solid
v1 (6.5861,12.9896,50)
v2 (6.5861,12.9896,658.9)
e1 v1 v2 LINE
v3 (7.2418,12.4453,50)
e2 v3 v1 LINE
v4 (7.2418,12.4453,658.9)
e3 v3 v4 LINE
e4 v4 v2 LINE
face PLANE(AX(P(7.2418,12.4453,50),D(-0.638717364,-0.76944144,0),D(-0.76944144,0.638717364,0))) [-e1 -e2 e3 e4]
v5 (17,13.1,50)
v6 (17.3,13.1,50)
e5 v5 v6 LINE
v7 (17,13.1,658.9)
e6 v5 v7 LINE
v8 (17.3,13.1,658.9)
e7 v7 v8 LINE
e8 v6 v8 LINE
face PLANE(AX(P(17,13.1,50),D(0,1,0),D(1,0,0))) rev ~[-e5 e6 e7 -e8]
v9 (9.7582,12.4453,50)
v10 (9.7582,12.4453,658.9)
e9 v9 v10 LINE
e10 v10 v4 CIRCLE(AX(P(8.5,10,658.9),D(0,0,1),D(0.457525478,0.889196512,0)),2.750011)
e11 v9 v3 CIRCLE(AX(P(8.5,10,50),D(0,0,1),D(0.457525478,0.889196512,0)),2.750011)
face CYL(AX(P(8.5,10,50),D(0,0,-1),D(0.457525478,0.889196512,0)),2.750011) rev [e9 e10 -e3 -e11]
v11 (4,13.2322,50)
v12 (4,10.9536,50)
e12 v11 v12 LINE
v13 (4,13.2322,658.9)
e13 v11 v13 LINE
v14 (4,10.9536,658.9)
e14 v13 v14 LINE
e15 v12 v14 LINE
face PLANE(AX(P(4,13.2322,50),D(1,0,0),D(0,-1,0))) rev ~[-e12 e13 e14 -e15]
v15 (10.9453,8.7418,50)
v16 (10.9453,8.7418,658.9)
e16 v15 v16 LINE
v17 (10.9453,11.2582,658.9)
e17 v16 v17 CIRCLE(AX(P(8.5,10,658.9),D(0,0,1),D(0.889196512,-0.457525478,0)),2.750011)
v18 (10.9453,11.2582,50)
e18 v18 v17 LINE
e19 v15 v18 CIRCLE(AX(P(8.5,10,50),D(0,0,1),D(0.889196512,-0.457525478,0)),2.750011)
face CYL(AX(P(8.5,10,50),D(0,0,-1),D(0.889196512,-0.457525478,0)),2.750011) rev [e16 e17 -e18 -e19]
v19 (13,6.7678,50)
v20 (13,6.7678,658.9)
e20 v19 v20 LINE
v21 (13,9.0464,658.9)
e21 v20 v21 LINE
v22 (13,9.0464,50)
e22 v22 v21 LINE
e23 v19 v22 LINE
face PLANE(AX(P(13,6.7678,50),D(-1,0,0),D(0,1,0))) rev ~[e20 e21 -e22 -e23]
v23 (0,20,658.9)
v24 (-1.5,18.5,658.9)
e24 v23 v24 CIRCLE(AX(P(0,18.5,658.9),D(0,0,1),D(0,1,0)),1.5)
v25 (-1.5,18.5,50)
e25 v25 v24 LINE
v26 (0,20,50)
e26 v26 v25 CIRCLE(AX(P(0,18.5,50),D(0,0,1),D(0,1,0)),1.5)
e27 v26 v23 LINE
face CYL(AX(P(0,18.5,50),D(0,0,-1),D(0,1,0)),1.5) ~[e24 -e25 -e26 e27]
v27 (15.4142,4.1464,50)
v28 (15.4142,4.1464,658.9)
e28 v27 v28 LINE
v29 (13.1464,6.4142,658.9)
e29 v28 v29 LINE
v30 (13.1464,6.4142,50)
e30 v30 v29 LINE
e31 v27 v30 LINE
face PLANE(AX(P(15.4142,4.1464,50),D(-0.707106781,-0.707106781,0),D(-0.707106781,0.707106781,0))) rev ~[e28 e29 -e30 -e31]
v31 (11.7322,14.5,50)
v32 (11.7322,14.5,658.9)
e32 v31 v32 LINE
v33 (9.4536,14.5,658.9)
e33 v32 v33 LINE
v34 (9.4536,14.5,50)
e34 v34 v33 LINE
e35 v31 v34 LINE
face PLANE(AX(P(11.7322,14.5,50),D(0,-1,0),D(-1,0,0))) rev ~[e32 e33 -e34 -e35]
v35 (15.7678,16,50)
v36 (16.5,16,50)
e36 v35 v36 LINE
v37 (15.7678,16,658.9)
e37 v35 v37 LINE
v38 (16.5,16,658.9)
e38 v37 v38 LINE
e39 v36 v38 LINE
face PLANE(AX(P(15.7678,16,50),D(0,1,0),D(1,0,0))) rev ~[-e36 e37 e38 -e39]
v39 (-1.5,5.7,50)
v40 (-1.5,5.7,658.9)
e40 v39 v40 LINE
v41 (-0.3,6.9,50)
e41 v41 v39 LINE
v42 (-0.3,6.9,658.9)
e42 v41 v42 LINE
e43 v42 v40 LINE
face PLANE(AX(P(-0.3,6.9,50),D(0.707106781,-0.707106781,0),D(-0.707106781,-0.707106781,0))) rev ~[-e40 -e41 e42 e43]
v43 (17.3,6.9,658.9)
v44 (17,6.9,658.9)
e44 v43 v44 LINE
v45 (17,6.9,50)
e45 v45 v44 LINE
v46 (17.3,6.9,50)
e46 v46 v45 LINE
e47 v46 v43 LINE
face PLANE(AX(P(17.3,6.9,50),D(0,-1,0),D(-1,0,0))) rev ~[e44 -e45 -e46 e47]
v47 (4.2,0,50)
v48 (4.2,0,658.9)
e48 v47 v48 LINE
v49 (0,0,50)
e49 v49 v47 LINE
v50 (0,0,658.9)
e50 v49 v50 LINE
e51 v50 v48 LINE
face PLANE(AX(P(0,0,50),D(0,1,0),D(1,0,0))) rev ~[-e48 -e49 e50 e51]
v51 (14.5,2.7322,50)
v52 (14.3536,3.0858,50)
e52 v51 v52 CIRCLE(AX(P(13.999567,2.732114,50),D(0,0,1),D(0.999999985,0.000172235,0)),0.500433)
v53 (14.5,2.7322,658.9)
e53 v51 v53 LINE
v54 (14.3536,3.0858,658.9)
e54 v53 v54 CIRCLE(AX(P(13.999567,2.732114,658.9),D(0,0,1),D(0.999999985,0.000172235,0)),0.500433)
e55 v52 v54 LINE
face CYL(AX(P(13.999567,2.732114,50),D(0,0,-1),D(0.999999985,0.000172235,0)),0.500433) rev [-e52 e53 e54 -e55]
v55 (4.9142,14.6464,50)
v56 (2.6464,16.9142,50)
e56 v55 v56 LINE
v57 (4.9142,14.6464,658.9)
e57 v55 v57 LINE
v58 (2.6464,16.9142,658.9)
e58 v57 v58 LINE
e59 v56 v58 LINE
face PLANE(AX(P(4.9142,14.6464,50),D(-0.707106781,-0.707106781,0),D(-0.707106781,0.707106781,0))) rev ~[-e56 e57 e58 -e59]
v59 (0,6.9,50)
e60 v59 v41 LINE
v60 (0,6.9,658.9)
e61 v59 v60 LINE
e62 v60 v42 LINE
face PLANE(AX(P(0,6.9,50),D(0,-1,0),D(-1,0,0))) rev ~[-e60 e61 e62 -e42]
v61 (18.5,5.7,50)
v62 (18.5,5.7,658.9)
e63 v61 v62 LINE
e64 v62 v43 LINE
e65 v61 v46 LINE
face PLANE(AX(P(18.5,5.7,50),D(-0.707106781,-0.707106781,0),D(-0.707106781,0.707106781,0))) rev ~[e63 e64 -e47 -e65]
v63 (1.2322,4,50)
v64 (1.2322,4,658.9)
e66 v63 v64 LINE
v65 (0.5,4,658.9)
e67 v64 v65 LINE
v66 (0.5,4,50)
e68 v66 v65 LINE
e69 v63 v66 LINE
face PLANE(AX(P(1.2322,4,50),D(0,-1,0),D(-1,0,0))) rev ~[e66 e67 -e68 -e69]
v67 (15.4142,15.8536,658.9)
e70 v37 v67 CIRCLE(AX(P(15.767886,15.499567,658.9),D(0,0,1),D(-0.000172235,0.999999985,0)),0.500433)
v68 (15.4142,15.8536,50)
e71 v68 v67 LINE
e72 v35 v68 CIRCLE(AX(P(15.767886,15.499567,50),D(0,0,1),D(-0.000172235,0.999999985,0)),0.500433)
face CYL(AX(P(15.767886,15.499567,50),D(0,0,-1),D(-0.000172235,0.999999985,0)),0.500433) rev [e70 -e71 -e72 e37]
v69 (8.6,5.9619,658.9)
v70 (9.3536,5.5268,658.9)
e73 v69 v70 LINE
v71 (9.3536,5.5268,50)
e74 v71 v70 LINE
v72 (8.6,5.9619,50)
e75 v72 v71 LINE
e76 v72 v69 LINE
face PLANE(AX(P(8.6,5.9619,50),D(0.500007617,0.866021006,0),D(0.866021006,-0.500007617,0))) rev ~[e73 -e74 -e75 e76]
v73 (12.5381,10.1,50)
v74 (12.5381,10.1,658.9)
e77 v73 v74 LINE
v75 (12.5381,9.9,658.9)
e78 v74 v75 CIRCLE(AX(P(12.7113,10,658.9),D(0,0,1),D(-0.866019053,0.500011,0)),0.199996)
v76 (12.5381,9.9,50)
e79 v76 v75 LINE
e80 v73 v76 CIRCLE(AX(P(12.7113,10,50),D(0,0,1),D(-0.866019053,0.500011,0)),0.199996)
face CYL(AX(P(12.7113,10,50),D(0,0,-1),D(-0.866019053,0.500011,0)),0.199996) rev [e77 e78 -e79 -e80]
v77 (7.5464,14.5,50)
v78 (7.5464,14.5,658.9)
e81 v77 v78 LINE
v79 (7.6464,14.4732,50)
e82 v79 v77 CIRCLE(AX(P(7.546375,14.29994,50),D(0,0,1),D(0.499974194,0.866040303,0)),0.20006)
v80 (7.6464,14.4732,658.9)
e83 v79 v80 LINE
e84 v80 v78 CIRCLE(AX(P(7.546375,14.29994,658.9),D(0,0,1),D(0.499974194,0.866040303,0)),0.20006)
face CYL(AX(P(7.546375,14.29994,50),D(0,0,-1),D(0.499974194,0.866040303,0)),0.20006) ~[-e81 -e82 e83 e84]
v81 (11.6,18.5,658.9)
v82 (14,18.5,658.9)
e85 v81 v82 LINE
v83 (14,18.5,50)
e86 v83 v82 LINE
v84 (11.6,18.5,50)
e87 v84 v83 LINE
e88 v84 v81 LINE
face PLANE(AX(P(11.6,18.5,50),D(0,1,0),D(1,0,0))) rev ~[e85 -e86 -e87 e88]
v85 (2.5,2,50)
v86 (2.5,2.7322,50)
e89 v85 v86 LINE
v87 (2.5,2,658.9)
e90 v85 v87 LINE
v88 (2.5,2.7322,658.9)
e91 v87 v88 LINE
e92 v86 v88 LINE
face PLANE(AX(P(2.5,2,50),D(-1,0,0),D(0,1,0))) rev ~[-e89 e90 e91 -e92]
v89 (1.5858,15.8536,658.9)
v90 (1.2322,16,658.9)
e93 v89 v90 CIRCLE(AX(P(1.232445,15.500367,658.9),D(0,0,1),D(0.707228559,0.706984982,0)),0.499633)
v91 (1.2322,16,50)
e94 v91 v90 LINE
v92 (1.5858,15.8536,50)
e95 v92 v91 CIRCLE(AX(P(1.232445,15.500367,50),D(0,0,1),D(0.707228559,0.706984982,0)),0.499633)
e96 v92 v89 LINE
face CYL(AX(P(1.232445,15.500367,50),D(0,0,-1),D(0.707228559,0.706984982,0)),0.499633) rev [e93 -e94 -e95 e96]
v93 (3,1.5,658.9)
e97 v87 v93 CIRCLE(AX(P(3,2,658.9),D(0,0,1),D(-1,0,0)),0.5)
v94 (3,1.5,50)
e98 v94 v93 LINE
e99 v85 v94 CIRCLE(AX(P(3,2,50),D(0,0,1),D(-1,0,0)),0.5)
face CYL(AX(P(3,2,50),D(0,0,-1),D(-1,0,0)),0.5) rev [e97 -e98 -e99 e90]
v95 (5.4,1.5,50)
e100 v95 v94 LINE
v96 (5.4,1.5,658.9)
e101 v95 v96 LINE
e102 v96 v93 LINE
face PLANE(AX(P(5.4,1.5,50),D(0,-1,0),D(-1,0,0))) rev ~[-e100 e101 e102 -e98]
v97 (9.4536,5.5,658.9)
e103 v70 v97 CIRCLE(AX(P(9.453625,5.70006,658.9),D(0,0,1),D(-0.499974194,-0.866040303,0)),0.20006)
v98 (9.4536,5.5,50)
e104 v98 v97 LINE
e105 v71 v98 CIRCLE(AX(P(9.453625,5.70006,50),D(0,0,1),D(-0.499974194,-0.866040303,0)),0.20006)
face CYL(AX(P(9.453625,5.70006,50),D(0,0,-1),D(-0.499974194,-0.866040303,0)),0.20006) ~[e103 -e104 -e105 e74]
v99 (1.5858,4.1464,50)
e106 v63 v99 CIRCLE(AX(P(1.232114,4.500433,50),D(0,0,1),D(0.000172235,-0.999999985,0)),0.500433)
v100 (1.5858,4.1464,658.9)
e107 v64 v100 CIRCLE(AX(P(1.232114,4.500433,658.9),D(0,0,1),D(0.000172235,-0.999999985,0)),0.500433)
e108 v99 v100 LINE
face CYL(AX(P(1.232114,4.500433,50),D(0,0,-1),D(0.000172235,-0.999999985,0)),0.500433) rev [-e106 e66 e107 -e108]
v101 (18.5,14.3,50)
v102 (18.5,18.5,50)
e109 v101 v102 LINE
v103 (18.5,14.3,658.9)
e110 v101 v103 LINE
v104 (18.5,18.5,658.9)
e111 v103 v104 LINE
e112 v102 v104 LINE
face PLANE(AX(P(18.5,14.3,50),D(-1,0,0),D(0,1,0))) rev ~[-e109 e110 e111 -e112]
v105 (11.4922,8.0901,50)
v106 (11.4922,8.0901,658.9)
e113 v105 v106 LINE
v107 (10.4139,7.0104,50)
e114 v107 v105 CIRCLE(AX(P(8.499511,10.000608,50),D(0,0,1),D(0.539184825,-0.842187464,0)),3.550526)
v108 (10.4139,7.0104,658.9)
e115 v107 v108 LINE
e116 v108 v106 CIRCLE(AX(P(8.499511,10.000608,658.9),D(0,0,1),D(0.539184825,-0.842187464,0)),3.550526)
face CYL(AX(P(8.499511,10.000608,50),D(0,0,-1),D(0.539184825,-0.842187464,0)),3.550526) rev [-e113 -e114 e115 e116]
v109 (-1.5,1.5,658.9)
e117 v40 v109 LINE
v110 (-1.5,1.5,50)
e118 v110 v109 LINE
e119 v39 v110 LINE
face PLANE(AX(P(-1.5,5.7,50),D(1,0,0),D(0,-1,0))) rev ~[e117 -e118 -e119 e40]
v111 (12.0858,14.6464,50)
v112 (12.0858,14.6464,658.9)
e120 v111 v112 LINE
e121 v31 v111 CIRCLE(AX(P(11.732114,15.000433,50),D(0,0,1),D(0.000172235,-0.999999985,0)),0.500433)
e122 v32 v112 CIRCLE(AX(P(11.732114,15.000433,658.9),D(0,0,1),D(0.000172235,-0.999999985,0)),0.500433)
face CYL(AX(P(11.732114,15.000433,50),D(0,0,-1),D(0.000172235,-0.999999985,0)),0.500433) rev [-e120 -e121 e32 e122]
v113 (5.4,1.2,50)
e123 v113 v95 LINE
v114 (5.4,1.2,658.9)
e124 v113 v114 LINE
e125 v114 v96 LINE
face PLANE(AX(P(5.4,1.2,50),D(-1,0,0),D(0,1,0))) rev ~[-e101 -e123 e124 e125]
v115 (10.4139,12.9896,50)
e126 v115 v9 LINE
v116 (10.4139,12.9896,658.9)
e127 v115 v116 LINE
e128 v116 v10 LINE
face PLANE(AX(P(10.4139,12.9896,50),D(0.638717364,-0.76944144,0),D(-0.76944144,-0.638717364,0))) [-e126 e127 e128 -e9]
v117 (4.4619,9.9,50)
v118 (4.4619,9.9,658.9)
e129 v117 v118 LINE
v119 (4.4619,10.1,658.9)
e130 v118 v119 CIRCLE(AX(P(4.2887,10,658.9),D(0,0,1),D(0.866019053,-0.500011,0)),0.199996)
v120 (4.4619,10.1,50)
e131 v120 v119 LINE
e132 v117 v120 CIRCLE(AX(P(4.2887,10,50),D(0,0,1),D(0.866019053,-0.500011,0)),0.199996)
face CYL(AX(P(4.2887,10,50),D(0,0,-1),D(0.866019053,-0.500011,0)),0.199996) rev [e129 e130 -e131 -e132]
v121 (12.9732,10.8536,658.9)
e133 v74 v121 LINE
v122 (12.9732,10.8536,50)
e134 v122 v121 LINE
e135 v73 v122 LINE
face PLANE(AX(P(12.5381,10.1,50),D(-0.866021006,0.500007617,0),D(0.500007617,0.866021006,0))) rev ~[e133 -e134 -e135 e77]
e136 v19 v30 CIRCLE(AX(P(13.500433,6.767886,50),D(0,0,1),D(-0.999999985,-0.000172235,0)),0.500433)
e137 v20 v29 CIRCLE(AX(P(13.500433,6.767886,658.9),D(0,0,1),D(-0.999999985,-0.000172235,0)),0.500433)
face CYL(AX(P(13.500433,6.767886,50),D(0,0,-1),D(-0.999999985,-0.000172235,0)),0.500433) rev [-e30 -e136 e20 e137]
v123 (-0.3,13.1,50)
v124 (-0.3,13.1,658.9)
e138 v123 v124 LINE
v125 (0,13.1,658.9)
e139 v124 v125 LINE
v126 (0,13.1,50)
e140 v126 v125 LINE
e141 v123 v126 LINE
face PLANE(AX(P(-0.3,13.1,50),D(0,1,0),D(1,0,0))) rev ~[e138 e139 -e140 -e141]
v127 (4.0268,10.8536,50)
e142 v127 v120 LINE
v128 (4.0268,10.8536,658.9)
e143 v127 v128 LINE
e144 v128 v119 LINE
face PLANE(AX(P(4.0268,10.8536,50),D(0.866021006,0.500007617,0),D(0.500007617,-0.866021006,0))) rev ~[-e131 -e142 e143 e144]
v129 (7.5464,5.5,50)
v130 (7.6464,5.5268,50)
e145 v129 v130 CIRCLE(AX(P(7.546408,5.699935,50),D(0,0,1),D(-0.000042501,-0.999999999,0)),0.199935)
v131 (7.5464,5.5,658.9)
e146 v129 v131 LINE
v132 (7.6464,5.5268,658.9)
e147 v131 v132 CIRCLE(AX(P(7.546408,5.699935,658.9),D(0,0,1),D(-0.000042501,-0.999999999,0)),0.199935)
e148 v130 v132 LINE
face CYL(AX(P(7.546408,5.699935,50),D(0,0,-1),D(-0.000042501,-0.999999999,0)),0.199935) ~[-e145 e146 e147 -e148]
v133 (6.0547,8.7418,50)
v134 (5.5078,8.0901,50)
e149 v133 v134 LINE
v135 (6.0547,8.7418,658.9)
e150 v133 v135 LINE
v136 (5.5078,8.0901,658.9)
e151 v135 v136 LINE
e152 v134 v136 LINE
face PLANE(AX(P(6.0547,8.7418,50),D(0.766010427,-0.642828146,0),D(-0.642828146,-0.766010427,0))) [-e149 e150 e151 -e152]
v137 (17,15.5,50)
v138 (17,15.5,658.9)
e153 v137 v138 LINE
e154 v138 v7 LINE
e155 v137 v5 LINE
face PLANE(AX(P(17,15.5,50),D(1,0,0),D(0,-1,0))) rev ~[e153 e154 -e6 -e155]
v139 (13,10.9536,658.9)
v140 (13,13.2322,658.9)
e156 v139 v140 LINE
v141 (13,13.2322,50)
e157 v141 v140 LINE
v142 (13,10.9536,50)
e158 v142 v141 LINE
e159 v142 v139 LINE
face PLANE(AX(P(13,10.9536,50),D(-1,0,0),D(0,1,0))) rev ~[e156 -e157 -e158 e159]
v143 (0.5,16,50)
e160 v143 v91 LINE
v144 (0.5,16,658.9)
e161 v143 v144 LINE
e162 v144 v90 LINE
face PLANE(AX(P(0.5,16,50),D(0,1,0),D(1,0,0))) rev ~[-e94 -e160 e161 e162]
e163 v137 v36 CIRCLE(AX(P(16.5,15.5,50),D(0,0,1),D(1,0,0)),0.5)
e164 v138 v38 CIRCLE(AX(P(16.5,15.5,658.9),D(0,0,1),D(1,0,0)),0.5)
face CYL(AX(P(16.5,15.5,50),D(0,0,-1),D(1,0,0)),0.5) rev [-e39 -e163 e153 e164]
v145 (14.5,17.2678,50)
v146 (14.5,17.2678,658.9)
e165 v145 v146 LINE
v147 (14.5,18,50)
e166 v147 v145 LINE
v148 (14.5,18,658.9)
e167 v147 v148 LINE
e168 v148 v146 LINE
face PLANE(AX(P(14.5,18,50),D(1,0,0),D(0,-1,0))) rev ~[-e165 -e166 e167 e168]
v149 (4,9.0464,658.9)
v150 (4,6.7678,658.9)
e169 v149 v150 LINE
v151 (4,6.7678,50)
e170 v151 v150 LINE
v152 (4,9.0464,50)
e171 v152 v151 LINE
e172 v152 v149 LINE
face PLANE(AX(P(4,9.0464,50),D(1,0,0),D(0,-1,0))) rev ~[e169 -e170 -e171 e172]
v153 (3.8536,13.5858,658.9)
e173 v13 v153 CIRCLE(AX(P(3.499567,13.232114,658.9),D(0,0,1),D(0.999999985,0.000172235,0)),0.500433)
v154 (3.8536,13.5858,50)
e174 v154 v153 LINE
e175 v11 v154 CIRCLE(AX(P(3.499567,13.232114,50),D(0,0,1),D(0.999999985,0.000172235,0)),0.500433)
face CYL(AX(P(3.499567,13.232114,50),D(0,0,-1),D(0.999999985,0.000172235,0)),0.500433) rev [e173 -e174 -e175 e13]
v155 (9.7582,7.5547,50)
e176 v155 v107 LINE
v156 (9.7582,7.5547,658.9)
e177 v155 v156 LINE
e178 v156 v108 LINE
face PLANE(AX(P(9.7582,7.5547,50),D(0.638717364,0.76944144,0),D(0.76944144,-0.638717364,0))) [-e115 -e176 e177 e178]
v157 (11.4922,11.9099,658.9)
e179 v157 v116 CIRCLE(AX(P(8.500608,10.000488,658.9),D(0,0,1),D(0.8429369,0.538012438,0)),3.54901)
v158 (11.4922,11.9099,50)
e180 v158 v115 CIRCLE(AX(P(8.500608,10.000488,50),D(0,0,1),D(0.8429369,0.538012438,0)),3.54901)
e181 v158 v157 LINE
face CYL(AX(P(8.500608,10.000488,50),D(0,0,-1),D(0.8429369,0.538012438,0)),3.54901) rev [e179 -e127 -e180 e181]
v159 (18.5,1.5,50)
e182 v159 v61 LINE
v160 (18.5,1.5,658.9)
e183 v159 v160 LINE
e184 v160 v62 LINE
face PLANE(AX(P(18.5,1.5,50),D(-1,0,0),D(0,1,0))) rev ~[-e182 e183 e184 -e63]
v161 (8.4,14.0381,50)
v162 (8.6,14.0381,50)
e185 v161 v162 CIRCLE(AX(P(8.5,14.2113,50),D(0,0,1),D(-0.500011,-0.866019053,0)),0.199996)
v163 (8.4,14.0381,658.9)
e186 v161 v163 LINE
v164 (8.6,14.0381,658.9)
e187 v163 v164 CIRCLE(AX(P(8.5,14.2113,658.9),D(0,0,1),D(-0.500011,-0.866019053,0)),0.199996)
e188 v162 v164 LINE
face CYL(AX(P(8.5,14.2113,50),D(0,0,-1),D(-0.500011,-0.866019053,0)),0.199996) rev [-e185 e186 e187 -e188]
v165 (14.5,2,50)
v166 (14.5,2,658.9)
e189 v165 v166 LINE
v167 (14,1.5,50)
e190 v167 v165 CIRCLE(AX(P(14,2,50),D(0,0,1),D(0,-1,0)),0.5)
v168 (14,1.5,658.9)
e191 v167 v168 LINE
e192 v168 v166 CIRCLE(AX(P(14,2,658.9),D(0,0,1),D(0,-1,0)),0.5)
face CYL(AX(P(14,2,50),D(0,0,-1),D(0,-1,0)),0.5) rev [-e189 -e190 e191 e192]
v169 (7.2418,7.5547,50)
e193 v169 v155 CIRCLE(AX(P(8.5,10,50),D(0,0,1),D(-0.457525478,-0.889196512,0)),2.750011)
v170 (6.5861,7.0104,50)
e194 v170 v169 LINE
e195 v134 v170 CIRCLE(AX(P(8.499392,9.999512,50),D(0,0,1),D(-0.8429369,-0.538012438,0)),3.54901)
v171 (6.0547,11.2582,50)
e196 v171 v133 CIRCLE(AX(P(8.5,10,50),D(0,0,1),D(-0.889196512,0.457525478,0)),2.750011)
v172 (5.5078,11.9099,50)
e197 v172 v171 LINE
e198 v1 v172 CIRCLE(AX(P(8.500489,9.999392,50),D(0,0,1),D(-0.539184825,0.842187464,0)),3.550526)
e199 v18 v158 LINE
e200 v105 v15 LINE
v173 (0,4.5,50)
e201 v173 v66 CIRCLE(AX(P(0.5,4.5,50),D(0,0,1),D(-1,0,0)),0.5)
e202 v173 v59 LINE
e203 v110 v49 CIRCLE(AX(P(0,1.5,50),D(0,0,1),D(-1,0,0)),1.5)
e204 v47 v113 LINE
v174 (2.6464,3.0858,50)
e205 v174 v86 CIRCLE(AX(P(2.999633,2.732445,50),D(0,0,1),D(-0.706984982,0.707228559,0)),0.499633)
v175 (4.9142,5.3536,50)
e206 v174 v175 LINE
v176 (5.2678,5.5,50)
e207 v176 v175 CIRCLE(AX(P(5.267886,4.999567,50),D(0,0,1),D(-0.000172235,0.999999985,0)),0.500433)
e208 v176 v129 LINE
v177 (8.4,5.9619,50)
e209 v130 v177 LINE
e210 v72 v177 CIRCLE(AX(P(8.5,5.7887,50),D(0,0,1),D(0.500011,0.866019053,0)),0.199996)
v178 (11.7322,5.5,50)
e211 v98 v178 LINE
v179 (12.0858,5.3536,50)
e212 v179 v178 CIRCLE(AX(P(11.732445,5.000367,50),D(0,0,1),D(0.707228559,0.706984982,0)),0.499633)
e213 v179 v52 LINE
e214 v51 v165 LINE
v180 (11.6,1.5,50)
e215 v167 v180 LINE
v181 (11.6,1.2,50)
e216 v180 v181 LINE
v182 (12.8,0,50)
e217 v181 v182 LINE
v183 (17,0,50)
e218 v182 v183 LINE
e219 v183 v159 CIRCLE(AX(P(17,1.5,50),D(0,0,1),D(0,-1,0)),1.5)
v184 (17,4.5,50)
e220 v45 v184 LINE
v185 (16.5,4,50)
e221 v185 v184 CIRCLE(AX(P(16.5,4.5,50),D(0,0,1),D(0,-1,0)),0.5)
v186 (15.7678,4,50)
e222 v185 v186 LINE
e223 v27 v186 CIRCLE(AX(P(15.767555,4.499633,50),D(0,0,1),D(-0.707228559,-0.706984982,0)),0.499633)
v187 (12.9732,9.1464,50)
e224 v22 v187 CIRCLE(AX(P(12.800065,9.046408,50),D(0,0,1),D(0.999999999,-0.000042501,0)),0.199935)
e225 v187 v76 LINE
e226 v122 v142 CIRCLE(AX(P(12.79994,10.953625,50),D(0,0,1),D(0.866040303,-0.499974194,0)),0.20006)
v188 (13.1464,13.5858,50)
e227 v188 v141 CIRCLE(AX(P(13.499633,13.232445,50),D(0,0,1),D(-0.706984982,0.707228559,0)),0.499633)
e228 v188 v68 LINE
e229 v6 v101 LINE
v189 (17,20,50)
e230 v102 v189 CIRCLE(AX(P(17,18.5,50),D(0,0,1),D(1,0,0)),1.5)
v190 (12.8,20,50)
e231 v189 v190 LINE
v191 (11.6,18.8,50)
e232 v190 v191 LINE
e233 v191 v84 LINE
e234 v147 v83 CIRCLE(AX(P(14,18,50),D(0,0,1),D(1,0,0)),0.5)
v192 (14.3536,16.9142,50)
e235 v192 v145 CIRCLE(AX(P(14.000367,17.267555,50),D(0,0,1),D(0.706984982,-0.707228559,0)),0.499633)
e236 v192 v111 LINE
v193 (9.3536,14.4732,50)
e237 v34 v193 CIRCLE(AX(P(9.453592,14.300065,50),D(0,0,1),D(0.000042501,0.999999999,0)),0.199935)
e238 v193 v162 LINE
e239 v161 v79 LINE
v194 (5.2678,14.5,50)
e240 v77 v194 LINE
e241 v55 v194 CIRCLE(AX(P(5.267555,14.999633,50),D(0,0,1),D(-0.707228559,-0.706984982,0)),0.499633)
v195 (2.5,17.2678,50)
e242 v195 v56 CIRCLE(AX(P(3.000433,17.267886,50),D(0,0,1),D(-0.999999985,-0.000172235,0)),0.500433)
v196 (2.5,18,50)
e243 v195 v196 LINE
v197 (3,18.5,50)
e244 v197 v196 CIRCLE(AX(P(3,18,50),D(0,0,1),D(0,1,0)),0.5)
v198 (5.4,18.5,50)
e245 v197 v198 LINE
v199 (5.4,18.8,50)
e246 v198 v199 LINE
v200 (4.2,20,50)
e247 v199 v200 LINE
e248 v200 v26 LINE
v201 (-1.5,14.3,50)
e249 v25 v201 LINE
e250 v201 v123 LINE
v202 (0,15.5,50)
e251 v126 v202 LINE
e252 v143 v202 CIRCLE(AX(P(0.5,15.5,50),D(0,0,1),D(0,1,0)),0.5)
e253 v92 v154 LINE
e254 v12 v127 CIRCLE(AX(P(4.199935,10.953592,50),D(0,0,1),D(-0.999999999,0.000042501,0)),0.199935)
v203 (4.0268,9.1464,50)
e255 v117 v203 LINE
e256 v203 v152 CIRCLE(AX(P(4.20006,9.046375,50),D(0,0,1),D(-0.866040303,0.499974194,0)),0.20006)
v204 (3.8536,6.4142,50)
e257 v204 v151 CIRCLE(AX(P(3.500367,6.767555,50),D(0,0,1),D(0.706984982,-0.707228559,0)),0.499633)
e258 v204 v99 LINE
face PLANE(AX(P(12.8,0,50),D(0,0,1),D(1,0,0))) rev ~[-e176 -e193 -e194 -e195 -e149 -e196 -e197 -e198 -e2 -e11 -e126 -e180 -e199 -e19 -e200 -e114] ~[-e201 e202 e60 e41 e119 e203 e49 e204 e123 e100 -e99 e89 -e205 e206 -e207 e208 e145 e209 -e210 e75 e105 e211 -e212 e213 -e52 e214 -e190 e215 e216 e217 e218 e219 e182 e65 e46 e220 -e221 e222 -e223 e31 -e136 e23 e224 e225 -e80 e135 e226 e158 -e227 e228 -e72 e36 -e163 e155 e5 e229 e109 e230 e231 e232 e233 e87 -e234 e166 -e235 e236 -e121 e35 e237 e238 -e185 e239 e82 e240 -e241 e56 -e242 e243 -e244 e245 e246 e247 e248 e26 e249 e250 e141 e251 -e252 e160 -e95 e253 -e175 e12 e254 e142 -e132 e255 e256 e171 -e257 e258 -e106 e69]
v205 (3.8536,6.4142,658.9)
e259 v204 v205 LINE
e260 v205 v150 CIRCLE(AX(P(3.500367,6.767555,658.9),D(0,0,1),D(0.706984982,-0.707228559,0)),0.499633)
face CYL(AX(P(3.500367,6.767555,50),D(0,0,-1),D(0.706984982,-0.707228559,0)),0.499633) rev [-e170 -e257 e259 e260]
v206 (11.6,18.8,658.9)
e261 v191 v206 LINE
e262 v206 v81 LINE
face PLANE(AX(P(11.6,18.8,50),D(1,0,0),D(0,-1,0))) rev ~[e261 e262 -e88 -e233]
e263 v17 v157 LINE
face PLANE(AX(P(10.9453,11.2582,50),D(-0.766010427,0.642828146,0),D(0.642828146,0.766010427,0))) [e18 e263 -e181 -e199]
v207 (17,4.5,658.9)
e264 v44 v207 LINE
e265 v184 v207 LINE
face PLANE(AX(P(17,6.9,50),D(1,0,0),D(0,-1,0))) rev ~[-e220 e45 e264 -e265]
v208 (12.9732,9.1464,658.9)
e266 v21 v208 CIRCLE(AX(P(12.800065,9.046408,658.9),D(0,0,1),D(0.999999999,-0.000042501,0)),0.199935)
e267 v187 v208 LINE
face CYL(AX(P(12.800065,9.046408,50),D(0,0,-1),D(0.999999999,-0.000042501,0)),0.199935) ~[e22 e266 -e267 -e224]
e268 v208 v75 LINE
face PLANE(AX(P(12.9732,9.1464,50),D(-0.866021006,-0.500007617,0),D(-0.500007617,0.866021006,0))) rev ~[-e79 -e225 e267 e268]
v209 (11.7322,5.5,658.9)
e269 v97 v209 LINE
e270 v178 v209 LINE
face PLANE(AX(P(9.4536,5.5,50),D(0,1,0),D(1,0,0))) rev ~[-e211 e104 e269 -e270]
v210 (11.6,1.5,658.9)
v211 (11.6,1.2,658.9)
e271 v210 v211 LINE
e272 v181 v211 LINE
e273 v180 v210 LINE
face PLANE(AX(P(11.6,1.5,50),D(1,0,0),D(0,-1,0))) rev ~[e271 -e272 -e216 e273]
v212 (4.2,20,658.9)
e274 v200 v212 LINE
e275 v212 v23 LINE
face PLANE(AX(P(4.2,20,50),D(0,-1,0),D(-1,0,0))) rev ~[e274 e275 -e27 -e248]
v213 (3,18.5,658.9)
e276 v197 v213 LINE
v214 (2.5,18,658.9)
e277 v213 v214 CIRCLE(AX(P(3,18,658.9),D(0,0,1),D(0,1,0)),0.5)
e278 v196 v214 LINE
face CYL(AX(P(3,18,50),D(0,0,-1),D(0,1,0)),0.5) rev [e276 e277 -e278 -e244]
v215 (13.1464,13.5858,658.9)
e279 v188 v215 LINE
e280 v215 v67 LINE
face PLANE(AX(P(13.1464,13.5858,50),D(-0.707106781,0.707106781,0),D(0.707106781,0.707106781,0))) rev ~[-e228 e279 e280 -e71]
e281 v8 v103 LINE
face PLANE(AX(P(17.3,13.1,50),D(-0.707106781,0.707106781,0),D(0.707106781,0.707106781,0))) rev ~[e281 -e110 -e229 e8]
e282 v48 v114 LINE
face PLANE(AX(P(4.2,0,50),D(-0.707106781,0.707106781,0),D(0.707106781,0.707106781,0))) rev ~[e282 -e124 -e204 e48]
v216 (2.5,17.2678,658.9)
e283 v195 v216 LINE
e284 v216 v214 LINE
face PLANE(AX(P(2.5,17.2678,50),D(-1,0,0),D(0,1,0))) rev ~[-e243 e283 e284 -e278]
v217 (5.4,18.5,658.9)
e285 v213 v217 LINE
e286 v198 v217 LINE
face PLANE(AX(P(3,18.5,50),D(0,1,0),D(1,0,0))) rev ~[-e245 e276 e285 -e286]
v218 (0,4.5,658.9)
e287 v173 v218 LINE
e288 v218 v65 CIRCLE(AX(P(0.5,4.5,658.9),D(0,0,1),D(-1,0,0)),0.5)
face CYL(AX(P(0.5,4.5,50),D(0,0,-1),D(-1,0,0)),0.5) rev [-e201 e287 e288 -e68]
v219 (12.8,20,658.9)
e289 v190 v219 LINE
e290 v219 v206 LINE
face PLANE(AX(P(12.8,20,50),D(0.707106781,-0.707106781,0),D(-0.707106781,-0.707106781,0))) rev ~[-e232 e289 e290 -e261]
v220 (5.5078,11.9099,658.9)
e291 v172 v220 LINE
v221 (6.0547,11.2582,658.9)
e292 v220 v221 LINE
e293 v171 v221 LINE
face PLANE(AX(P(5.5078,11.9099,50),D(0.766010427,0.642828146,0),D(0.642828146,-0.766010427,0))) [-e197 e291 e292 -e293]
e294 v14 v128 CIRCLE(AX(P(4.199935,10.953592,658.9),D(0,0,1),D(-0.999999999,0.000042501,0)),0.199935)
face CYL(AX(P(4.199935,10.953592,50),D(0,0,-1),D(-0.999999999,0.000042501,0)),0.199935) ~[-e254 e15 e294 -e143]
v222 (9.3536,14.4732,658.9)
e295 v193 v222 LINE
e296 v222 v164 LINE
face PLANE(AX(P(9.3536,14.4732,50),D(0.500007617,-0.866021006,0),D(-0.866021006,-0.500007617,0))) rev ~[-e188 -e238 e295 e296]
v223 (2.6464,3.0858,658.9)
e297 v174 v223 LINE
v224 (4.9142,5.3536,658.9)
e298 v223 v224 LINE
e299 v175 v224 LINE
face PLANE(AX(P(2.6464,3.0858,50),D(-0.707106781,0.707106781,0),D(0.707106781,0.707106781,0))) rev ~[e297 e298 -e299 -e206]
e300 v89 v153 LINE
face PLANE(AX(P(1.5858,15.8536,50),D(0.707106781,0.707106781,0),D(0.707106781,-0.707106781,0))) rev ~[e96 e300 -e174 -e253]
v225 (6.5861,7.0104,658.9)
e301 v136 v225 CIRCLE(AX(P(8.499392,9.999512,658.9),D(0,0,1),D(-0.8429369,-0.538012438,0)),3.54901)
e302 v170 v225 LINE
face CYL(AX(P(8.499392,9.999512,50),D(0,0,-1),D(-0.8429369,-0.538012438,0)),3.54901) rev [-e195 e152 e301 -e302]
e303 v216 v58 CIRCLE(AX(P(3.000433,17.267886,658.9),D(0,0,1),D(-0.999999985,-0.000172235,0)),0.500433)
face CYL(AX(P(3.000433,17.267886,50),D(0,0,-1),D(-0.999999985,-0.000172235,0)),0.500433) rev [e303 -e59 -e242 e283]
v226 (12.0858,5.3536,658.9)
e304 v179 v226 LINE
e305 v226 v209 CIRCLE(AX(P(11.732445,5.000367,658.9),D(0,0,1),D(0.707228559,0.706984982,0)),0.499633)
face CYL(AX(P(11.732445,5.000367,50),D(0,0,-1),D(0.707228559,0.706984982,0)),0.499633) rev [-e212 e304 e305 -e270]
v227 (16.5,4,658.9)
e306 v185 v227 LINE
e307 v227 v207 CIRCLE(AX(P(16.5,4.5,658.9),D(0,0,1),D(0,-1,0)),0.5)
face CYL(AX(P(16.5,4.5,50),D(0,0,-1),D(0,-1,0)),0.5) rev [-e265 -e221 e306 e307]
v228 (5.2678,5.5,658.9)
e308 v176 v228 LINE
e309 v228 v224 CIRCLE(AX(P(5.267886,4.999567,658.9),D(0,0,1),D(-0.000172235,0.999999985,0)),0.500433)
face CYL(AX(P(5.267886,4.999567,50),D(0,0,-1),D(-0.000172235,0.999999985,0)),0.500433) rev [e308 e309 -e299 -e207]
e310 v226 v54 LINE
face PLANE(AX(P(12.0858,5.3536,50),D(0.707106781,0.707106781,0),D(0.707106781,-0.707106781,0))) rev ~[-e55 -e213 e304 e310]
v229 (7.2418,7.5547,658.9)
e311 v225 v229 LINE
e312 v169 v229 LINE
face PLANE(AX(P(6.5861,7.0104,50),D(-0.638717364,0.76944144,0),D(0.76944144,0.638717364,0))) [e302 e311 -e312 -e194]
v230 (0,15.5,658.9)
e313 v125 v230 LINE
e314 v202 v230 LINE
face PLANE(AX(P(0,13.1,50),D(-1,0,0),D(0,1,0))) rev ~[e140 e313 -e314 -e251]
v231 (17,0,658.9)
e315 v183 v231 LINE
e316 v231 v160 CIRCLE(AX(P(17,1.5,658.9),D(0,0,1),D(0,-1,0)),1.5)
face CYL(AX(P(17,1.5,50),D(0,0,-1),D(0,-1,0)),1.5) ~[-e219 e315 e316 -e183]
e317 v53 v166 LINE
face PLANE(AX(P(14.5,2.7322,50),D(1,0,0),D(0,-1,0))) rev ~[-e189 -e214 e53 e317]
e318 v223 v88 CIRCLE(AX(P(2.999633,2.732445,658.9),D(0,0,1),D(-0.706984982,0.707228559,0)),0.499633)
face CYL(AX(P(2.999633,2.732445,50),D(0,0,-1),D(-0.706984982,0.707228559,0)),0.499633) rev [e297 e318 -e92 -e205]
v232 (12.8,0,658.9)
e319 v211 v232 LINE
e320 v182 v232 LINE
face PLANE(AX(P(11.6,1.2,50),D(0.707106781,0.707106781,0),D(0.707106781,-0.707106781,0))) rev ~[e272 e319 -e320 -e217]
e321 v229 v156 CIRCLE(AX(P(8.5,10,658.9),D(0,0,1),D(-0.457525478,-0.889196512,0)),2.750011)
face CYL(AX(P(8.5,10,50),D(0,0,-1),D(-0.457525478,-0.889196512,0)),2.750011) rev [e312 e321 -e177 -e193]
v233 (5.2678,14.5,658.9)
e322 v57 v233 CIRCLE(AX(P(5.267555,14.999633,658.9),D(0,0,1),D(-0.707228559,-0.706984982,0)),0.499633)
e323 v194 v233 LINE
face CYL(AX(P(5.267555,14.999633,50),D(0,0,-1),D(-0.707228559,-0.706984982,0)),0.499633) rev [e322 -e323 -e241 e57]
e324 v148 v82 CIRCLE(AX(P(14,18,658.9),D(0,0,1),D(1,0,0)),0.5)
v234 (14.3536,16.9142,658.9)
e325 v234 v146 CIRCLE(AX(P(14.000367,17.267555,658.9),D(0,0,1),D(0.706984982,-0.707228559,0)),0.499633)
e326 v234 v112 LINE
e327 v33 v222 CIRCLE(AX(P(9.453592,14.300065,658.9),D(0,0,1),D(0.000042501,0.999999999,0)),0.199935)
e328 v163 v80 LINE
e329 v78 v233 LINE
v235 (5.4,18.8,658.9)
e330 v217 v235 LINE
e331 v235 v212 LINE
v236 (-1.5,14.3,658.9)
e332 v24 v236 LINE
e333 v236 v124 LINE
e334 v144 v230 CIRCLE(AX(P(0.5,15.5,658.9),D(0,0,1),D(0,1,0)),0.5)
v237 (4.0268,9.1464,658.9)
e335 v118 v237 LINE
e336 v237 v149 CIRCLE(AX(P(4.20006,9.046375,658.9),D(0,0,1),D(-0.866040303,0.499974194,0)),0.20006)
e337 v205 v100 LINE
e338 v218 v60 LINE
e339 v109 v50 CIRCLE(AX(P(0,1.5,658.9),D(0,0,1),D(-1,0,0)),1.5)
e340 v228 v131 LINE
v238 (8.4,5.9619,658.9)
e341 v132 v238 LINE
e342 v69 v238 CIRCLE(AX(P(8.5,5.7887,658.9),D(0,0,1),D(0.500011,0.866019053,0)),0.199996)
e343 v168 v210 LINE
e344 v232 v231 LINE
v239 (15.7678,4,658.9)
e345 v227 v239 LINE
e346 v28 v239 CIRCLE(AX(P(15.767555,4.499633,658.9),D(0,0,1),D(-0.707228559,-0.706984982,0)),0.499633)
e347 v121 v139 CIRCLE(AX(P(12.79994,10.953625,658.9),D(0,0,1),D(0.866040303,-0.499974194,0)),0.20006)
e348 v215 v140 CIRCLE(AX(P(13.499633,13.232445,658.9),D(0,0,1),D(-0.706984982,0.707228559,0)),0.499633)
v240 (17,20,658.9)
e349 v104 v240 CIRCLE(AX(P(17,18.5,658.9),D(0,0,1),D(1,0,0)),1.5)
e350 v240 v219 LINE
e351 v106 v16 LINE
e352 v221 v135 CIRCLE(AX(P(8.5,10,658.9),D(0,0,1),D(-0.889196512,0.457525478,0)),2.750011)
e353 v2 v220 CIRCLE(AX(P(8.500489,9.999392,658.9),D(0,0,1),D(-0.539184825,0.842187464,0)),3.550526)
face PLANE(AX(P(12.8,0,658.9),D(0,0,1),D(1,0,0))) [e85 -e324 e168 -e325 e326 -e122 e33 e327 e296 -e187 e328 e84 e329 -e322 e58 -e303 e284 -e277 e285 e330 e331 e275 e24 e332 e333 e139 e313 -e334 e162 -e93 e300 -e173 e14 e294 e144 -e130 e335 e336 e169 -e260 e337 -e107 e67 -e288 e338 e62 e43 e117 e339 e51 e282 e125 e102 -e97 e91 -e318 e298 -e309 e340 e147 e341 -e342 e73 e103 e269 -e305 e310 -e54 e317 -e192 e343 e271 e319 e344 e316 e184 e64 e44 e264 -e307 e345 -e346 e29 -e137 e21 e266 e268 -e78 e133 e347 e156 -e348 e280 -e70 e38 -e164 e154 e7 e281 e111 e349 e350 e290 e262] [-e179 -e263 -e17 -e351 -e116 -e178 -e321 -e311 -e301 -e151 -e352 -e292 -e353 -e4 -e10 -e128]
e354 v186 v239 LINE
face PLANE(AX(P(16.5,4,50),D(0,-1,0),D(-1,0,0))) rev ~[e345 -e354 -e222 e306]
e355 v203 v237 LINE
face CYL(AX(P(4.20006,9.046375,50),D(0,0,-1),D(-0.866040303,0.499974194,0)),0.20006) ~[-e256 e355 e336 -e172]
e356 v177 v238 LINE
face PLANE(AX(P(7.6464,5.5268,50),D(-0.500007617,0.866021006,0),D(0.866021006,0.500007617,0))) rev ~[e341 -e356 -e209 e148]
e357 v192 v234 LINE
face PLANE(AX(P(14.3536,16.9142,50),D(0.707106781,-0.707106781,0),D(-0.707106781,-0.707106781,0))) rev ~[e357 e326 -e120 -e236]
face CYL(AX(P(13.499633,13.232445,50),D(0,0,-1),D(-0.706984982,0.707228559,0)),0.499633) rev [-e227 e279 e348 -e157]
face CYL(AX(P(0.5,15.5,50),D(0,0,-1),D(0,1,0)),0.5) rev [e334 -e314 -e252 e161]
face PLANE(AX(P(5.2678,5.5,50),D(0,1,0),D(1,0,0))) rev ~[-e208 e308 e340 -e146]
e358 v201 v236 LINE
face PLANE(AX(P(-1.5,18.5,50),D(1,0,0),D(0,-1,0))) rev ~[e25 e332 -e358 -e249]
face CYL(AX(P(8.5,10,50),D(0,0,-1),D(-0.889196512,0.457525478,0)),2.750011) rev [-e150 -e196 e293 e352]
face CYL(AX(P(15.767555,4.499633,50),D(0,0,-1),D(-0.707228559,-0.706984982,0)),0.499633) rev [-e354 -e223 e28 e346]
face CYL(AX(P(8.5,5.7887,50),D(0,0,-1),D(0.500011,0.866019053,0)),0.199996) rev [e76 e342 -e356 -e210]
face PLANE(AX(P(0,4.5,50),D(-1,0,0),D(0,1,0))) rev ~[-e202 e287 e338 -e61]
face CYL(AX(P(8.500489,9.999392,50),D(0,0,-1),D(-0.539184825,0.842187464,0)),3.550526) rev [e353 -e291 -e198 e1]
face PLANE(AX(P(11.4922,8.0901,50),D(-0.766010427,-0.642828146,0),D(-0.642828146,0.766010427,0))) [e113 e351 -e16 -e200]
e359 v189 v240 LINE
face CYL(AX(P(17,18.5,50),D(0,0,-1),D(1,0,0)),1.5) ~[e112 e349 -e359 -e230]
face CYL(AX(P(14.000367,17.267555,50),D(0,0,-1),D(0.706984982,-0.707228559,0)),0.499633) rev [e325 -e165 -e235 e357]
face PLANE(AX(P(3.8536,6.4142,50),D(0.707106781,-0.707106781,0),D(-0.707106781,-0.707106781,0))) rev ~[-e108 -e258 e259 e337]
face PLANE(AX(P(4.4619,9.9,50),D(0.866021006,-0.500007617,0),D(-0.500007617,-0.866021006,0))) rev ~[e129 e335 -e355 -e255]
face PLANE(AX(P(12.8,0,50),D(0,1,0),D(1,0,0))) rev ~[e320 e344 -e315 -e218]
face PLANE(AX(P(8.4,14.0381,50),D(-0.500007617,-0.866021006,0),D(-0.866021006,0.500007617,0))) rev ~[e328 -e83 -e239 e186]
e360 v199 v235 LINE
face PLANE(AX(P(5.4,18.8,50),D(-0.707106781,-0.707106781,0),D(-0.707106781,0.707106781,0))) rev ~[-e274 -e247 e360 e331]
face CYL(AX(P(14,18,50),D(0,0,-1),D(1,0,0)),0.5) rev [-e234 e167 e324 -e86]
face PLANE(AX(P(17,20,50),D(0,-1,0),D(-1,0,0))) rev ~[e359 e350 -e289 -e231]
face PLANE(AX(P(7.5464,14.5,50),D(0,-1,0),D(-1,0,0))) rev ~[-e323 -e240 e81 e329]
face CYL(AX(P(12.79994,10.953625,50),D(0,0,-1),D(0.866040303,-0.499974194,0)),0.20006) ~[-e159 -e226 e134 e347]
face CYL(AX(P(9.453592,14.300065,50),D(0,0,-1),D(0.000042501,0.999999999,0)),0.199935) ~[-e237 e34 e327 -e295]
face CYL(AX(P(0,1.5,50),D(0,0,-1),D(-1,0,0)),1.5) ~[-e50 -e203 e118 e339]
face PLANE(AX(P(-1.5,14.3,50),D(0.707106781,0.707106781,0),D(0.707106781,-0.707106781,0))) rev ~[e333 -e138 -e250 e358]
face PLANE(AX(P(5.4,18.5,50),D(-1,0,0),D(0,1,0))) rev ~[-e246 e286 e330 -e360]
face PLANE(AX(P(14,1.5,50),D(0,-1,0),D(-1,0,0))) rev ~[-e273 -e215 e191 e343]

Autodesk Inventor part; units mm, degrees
ref_plane "YZ Plane" through (0, 0, 0) normal (1, 0, 0) x (0, 1, 0)
ref_plane "Work Plane5" through (12.8, 0, 50) normal (0, 0, 1) x (1, 0, 0)
sketch "Sketch" plane through (12.8, 0, 50) normal (0, 0, 1) x (1, 0, 0)
  arc A0 (1.7, 2.7322) -> (1.5536, 3.0858) centre (1.2, 2.7322) ccw
  line L0 (1.7, 2.7322) -> (1.7, 2)
  arc A1 (1.2, 1.5) -> (1.7, 2) centre (1.2, 2) ccw
  line L1 (1.2, 1.5) -> (-1.2, 1.5)
  line L2 (-1.2, 1.5) -> (-1.2, 1.2)
  line L3 (-1.2, 1.2) -> (0, 0)
  line L4 (0, 0) -> (4.2, 0)
  arc A2 (4.2, 0) -> (5.7, 1.5) centre (4.2, 1.5) ccw
  line L5 (5.7, 1.5) -> (5.7, 5.7)
  line L6 (5.7, 5.7) -> (4.5, 6.9)
  line L7 (4.5, 6.9) -> (4.2, 6.9)
  line L8 (4.2, 6.9) -> (4.2, 4.5)
  arc A3 (3.7, 4) -> (4.2, 4.5) centre (3.7, 4.5) ccw
  line L9 (3.7, 4) -> (2.9678, 4)
  arc A4 (2.6142, 4.1464) -> (2.9678, 4) centre (2.9678, 4.5) ccw
  line L10 (2.6142, 4.1464) -> (0.3464, 6.4142)
  arc A5 (0.2, 6.7678) -> (0.3464, 6.4142) centre (0.7, 6.7678) ccw
  line L11 (0.2, 6.7678) -> (0.2, 9.0464)
  arc A6 (0.2, 9.0464) -> (0.1732, 9.1464) centre (0, 9.0464) ccw
  line L12 (0.1732, 9.1464) -> (-0.2619, 9.9)
  arc A7 (-0.2619, 10.1) -> (-0.2619, 9.9) centre (-0.0887, 10) ccw
  line L13 (-0.2619, 10.1) -> (0.1732, 10.8536)
  arc A8 (0.1732, 10.8536) -> (0.2, 10.9536) centre (0, 10.9536) ccw
  line L14 (0.2, 10.9536) -> (0.2, 13.2322)
  arc A9 (0.3464, 13.5858) -> (0.2, 13.2322) centre (0.7, 13.2322) ccw
  line L15 (0.3464, 13.5858) -> (2.6142, 15.8536)
  arc A10 (2.9678, 16) -> (2.6142, 15.8536) centre (2.9678, 15.5) ccw
  line L16 (2.9678, 16) -> (3.7, 16)
  arc A11 (4.2, 15.5) -> (3.7, 16) centre (3.7, 15.5) ccw
  line L17 (4.2, 15.5) -> (4.2, 13.1)
  line L18 (4.2, 13.1) -> (4.5, 13.1)
  line L19 (4.5, 13.1) -> (5.7, 14.3)
  line L20 (5.7, 14.3) -> (5.7, 18.5)
  arc A12 (5.7, 18.5) -> (4.2, 20) centre (4.2, 18.5) ccw
  line L21 (4.2, 20) -> (0, 20)
  line L22 (0, 20) -> (-1.2, 18.8)
  line L23 (-1.2, 18.8) -> (-1.2, 18.5)
  line L24 (-1.2, 18.5) -> (1.2, 18.5)
  arc A13 (1.7, 18) -> (1.2, 18.5) centre (1.2, 18) ccw
  line L25 (1.7, 18) -> (1.7, 17.2678)
  arc A14 (1.5536, 16.9142) -> (1.7, 17.2678) centre (1.2, 17.2678) ccw
  line L26 (1.5536, 16.9142) -> (-0.7142, 14.6464)
  arc A15 (-1.0678, 14.5) -> (-0.7142, 14.6464) centre (-1.0678, 15) ccw
  line L27 (-1.0678, 14.5) -> (-3.3464, 14.5)
  arc A16 (-3.3464, 14.5) -> (-3.4464, 14.4732) centre (-3.3464, 14.3) ccw
  line L28 (-3.4464, 14.4732) -> (-4.2, 14.0381)
  arc A17 (-4.4, 14.0381) -> (-4.2, 14.0381) centre (-4.3, 14.2113) ccw
  line L29 (-4.4, 14.0381) -> (-5.1536, 14.4732)
  arc A18 (-5.1536, 14.4732) -> (-5.2536, 14.5) centre (-5.2536, 14.3) ccw
  line L30 (-5.2536, 14.5) -> (-7.5322, 14.5)
  arc A19 (-7.8858, 14.6464) -> (-7.5322, 14.5) centre (-7.5322, 15) ccw
  line L31 (-7.8858, 14.6464) -> (-10.1536, 16.9142)
  arc A20 (-10.3, 17.2678) -> (-10.1536, 16.9142) centre (-9.8, 17.2678) ccw
  line L32 (-10.3, 17.2678) -> (-10.3, 18)
  arc A21 (-9.8, 18.5) -> (-10.3, 18) centre (-9.8, 18) ccw
  line L33 (-9.8, 18.5) -> (-7.4, 18.5)
  line L34 (-7.4, 18.5) -> (-7.4, 18.8)
  line L35 (-7.4, 18.8) -> (-8.6, 20)
  line L36 (-8.6, 20) -> (-12.8, 20)
  arc A22 (-12.8, 20) -> (-14.3, 18.5) centre (-12.8, 18.5) ccw
  line L37 (-14.3, 18.5) -> (-14.3, 14.3)
  line L38 (-14.3, 14.3) -> (-13.1, 13.1)
  line L39 (-13.1, 13.1) -> (-12.8, 13.1)
  line L40 (-12.8, 13.1) -> (-12.8, 15.5)
  arc A23 (-12.3, 16) -> (-12.8, 15.5) centre (-12.3, 15.5) ccw
  line L41 (-12.3, 16) -> (-11.5678, 16)
  arc A24 (-11.2142, 15.8536) -> (-11.5678, 16) centre (-11.5678, 15.5) ccw
  line L42 (-11.2142, 15.8536) -> (-8.9464, 13.5858)
  arc A25 (-8.8, 13.2322) -> (-8.9464, 13.5858) centre (-9.3, 13.2322) ccw
  line L43 (-8.8, 13.2322) -> (-8.8, 10.9536)
  arc A26 (-8.8, 10.9536) -> (-8.7732, 10.8536) centre (-8.6, 10.9536) ccw
  line L44 (-8.7732, 10.8536) -> (-8.3381, 10.1)
  arc A27 (-8.3381, 9.9) -> (-8.3381, 10.1) centre (-8.5113, 10) ccw
  line L45 (-8.3381, 9.9) -> (-8.7732, 9.1464)
  arc A28 (-8.7732, 9.1464) -> (-8.8, 9.0464) centre (-8.6, 9.0464) ccw
  line L46 (-8.8, 9.0464) -> (-8.8, 6.7678)
  arc A29 (-8.9464, 6.4142) -> (-8.8, 6.7678) centre (-9.3, 6.7678) ccw
  line L47 (-8.9464, 6.4142) -> (-11.2142, 4.1464)
  arc A30 (-11.5678, 4) -> (-11.2142, 4.1464) centre (-11.5678, 4.5) ccw
  line L48 (-11.5678, 4) -> (-12.3, 4)
  arc A31 (-12.8, 4.5) -> (-12.3, 4) centre (-12.3, 4.5) ccw
  line L49 (-12.8, 4.5) -> (-12.8, 6.9)
  line L50 (-12.8, 6.9) -> (-13.1, 6.9)
  line L51 (-13.1, 6.9) -> (-14.3, 5.7)
  line L52 (-14.3, 5.7) -> (-14.3, 1.5)
  arc A32 (-14.3, 1.5) -> (-12.8, 0) centre (-12.8, 1.5) ccw
  line L53 (-12.8, 0) -> (-8.6, 0)
  line L54 (-8.6, 0) -> (-7.4, 1.2)
  line L55 (-7.4, 1.2) -> (-7.4, 1.5)
  line L56 (-7.4, 1.5) -> (-9.8, 1.5)
  arc A33 (-10.3, 2) -> (-9.8, 1.5) centre (-9.8, 2) ccw
  line L57 (-10.3, 2) -> (-10.3, 2.7322)
  arc A34 (-10.1536, 3.0858) -> (-10.3, 2.7322) centre (-9.8, 2.7322) ccw
  line L58 (-10.1536, 3.0858) -> (-7.8858, 5.3536)
  arc A35 (-7.5322, 5.5) -> (-7.8858, 5.3536) centre (-7.5322, 5) ccw
  line L59 (-7.5322, 5.5) -> (-5.2536, 5.5)
  arc A36 (-5.2536, 5.5) -> (-5.1536, 5.5268) centre (-5.2536, 5.7) ccw
  line L60 (-5.1536, 5.5268) -> (-4.4, 5.9619)
  arc A37 (-4.2, 5.9619) -> (-4.4, 5.9619) centre (-4.3, 5.7887) ccw
  line L61 (-4.2, 5.9619) -> (-3.4464, 5.5268)
  arc A38 (-3.4464, 5.5268) -> (-3.3464, 5.5) centre (-3.3464, 5.7) ccw
  line L62 (-3.3464, 5.5) -> (-1.0678, 5.5)
  arc A39 (-0.7142, 5.3536) -> (-1.0678, 5.5) centre (-1.0678, 5) ccw
  line L63 (-0.7142, 5.3536) -> (1.5536, 3.0858)
  line L64 (-6.7453, 8.7418) -> (-7.2922, 8.0901)
  arc A40 (-6.7453, 11.2582) -> (-6.7453, 8.7418) centre (-4.3, 10) ccw
  line L65 (-7.2922, 11.9099) -> (-6.7453, 11.2582)
  arc A41 (-6.2139, 12.9896) -> (-7.2922, 11.9099) centre (-4.3, 10) ccw
  line L66 (-5.5582, 12.4453) -> (-6.2139, 12.9896)
  arc A42 (-3.0418, 12.4453) -> (-5.5582, 12.4453) centre (-4.3, 10) ccw
  line L67 (-2.3861, 12.9896) -> (-3.0418, 12.4453)
  arc A43 (-1.3078, 11.9099) -> (-2.3861, 12.9896) centre (-4.3, 10) ccw
  line L68 (-1.8547, 11.2582) -> (-1.3078, 11.9099)
  arc A44 (-1.8547, 8.7418) -> (-1.8547, 11.2582) centre (-4.3, 10) ccw
  line L69 (-1.3078, 8.0901) -> (-1.8547, 8.7418)
  arc A45 (-2.3861, 7.0104) -> (-1.3078, 8.0901) centre (-4.3, 10) ccw
  line L70 (-3.0418, 7.5547) -> (-2.3861, 7.0104)
  arc A46 (-5.5582, 7.5547) -> (-3.0418, 7.5547) centre (-4.3, 10) ccw
  line L71 (-6.2139, 7.0104) -> (-5.5582, 7.5547)
  arc A47 (-7.2922, 8.0901) -> (-6.2139, 7.0104) centre (-4.3, 10) ccw
ref_plane "Start Plane" through (12.8, 0, 50) normal (0, 0, 1) x (1, 0, 0)
ref_plane "End Plane" through (18.5, -22.75, 658.9) normal (0, 0, 1) x (1, 0, 0)
extrude "Body" add sketch "Sketch" along normal up to surface (608.9 mm away) from surface at 0
sketch "Sketch8" plane through (12.8, 0, 50) normal (0, 0, 1) x (1, 0, 0)
  line L0 (0, 0) -> (10, 0)
ref_plane "Work Plane10" through (12.8, 0, 50) normal (0, -1, 0) x (1, 0, 0)
sketch "Sketch9" plane through (12.8, 0, 50) normal (0, -1, 0) x (1, 0, 0)
  line L0 (-2, 0) -> (12, 0)
  line L1 (-2, 608.9) -> (12, 608.9)
  dimension "d16" = 608.9
equation "\"LENGTH\" = 538.9"
equation "\"G_OFFSET_START\" = 0"
equation "\"G_OFFSET_END\" = 0"
equation "\"G_L\" = d16"
equation "\"G_OFFSET_START1\" = 0"
equation "\"G_OFFSET_END1\" = 0"
properties part number "2020 V-slot 100mm" material "Aluminum 6061"
